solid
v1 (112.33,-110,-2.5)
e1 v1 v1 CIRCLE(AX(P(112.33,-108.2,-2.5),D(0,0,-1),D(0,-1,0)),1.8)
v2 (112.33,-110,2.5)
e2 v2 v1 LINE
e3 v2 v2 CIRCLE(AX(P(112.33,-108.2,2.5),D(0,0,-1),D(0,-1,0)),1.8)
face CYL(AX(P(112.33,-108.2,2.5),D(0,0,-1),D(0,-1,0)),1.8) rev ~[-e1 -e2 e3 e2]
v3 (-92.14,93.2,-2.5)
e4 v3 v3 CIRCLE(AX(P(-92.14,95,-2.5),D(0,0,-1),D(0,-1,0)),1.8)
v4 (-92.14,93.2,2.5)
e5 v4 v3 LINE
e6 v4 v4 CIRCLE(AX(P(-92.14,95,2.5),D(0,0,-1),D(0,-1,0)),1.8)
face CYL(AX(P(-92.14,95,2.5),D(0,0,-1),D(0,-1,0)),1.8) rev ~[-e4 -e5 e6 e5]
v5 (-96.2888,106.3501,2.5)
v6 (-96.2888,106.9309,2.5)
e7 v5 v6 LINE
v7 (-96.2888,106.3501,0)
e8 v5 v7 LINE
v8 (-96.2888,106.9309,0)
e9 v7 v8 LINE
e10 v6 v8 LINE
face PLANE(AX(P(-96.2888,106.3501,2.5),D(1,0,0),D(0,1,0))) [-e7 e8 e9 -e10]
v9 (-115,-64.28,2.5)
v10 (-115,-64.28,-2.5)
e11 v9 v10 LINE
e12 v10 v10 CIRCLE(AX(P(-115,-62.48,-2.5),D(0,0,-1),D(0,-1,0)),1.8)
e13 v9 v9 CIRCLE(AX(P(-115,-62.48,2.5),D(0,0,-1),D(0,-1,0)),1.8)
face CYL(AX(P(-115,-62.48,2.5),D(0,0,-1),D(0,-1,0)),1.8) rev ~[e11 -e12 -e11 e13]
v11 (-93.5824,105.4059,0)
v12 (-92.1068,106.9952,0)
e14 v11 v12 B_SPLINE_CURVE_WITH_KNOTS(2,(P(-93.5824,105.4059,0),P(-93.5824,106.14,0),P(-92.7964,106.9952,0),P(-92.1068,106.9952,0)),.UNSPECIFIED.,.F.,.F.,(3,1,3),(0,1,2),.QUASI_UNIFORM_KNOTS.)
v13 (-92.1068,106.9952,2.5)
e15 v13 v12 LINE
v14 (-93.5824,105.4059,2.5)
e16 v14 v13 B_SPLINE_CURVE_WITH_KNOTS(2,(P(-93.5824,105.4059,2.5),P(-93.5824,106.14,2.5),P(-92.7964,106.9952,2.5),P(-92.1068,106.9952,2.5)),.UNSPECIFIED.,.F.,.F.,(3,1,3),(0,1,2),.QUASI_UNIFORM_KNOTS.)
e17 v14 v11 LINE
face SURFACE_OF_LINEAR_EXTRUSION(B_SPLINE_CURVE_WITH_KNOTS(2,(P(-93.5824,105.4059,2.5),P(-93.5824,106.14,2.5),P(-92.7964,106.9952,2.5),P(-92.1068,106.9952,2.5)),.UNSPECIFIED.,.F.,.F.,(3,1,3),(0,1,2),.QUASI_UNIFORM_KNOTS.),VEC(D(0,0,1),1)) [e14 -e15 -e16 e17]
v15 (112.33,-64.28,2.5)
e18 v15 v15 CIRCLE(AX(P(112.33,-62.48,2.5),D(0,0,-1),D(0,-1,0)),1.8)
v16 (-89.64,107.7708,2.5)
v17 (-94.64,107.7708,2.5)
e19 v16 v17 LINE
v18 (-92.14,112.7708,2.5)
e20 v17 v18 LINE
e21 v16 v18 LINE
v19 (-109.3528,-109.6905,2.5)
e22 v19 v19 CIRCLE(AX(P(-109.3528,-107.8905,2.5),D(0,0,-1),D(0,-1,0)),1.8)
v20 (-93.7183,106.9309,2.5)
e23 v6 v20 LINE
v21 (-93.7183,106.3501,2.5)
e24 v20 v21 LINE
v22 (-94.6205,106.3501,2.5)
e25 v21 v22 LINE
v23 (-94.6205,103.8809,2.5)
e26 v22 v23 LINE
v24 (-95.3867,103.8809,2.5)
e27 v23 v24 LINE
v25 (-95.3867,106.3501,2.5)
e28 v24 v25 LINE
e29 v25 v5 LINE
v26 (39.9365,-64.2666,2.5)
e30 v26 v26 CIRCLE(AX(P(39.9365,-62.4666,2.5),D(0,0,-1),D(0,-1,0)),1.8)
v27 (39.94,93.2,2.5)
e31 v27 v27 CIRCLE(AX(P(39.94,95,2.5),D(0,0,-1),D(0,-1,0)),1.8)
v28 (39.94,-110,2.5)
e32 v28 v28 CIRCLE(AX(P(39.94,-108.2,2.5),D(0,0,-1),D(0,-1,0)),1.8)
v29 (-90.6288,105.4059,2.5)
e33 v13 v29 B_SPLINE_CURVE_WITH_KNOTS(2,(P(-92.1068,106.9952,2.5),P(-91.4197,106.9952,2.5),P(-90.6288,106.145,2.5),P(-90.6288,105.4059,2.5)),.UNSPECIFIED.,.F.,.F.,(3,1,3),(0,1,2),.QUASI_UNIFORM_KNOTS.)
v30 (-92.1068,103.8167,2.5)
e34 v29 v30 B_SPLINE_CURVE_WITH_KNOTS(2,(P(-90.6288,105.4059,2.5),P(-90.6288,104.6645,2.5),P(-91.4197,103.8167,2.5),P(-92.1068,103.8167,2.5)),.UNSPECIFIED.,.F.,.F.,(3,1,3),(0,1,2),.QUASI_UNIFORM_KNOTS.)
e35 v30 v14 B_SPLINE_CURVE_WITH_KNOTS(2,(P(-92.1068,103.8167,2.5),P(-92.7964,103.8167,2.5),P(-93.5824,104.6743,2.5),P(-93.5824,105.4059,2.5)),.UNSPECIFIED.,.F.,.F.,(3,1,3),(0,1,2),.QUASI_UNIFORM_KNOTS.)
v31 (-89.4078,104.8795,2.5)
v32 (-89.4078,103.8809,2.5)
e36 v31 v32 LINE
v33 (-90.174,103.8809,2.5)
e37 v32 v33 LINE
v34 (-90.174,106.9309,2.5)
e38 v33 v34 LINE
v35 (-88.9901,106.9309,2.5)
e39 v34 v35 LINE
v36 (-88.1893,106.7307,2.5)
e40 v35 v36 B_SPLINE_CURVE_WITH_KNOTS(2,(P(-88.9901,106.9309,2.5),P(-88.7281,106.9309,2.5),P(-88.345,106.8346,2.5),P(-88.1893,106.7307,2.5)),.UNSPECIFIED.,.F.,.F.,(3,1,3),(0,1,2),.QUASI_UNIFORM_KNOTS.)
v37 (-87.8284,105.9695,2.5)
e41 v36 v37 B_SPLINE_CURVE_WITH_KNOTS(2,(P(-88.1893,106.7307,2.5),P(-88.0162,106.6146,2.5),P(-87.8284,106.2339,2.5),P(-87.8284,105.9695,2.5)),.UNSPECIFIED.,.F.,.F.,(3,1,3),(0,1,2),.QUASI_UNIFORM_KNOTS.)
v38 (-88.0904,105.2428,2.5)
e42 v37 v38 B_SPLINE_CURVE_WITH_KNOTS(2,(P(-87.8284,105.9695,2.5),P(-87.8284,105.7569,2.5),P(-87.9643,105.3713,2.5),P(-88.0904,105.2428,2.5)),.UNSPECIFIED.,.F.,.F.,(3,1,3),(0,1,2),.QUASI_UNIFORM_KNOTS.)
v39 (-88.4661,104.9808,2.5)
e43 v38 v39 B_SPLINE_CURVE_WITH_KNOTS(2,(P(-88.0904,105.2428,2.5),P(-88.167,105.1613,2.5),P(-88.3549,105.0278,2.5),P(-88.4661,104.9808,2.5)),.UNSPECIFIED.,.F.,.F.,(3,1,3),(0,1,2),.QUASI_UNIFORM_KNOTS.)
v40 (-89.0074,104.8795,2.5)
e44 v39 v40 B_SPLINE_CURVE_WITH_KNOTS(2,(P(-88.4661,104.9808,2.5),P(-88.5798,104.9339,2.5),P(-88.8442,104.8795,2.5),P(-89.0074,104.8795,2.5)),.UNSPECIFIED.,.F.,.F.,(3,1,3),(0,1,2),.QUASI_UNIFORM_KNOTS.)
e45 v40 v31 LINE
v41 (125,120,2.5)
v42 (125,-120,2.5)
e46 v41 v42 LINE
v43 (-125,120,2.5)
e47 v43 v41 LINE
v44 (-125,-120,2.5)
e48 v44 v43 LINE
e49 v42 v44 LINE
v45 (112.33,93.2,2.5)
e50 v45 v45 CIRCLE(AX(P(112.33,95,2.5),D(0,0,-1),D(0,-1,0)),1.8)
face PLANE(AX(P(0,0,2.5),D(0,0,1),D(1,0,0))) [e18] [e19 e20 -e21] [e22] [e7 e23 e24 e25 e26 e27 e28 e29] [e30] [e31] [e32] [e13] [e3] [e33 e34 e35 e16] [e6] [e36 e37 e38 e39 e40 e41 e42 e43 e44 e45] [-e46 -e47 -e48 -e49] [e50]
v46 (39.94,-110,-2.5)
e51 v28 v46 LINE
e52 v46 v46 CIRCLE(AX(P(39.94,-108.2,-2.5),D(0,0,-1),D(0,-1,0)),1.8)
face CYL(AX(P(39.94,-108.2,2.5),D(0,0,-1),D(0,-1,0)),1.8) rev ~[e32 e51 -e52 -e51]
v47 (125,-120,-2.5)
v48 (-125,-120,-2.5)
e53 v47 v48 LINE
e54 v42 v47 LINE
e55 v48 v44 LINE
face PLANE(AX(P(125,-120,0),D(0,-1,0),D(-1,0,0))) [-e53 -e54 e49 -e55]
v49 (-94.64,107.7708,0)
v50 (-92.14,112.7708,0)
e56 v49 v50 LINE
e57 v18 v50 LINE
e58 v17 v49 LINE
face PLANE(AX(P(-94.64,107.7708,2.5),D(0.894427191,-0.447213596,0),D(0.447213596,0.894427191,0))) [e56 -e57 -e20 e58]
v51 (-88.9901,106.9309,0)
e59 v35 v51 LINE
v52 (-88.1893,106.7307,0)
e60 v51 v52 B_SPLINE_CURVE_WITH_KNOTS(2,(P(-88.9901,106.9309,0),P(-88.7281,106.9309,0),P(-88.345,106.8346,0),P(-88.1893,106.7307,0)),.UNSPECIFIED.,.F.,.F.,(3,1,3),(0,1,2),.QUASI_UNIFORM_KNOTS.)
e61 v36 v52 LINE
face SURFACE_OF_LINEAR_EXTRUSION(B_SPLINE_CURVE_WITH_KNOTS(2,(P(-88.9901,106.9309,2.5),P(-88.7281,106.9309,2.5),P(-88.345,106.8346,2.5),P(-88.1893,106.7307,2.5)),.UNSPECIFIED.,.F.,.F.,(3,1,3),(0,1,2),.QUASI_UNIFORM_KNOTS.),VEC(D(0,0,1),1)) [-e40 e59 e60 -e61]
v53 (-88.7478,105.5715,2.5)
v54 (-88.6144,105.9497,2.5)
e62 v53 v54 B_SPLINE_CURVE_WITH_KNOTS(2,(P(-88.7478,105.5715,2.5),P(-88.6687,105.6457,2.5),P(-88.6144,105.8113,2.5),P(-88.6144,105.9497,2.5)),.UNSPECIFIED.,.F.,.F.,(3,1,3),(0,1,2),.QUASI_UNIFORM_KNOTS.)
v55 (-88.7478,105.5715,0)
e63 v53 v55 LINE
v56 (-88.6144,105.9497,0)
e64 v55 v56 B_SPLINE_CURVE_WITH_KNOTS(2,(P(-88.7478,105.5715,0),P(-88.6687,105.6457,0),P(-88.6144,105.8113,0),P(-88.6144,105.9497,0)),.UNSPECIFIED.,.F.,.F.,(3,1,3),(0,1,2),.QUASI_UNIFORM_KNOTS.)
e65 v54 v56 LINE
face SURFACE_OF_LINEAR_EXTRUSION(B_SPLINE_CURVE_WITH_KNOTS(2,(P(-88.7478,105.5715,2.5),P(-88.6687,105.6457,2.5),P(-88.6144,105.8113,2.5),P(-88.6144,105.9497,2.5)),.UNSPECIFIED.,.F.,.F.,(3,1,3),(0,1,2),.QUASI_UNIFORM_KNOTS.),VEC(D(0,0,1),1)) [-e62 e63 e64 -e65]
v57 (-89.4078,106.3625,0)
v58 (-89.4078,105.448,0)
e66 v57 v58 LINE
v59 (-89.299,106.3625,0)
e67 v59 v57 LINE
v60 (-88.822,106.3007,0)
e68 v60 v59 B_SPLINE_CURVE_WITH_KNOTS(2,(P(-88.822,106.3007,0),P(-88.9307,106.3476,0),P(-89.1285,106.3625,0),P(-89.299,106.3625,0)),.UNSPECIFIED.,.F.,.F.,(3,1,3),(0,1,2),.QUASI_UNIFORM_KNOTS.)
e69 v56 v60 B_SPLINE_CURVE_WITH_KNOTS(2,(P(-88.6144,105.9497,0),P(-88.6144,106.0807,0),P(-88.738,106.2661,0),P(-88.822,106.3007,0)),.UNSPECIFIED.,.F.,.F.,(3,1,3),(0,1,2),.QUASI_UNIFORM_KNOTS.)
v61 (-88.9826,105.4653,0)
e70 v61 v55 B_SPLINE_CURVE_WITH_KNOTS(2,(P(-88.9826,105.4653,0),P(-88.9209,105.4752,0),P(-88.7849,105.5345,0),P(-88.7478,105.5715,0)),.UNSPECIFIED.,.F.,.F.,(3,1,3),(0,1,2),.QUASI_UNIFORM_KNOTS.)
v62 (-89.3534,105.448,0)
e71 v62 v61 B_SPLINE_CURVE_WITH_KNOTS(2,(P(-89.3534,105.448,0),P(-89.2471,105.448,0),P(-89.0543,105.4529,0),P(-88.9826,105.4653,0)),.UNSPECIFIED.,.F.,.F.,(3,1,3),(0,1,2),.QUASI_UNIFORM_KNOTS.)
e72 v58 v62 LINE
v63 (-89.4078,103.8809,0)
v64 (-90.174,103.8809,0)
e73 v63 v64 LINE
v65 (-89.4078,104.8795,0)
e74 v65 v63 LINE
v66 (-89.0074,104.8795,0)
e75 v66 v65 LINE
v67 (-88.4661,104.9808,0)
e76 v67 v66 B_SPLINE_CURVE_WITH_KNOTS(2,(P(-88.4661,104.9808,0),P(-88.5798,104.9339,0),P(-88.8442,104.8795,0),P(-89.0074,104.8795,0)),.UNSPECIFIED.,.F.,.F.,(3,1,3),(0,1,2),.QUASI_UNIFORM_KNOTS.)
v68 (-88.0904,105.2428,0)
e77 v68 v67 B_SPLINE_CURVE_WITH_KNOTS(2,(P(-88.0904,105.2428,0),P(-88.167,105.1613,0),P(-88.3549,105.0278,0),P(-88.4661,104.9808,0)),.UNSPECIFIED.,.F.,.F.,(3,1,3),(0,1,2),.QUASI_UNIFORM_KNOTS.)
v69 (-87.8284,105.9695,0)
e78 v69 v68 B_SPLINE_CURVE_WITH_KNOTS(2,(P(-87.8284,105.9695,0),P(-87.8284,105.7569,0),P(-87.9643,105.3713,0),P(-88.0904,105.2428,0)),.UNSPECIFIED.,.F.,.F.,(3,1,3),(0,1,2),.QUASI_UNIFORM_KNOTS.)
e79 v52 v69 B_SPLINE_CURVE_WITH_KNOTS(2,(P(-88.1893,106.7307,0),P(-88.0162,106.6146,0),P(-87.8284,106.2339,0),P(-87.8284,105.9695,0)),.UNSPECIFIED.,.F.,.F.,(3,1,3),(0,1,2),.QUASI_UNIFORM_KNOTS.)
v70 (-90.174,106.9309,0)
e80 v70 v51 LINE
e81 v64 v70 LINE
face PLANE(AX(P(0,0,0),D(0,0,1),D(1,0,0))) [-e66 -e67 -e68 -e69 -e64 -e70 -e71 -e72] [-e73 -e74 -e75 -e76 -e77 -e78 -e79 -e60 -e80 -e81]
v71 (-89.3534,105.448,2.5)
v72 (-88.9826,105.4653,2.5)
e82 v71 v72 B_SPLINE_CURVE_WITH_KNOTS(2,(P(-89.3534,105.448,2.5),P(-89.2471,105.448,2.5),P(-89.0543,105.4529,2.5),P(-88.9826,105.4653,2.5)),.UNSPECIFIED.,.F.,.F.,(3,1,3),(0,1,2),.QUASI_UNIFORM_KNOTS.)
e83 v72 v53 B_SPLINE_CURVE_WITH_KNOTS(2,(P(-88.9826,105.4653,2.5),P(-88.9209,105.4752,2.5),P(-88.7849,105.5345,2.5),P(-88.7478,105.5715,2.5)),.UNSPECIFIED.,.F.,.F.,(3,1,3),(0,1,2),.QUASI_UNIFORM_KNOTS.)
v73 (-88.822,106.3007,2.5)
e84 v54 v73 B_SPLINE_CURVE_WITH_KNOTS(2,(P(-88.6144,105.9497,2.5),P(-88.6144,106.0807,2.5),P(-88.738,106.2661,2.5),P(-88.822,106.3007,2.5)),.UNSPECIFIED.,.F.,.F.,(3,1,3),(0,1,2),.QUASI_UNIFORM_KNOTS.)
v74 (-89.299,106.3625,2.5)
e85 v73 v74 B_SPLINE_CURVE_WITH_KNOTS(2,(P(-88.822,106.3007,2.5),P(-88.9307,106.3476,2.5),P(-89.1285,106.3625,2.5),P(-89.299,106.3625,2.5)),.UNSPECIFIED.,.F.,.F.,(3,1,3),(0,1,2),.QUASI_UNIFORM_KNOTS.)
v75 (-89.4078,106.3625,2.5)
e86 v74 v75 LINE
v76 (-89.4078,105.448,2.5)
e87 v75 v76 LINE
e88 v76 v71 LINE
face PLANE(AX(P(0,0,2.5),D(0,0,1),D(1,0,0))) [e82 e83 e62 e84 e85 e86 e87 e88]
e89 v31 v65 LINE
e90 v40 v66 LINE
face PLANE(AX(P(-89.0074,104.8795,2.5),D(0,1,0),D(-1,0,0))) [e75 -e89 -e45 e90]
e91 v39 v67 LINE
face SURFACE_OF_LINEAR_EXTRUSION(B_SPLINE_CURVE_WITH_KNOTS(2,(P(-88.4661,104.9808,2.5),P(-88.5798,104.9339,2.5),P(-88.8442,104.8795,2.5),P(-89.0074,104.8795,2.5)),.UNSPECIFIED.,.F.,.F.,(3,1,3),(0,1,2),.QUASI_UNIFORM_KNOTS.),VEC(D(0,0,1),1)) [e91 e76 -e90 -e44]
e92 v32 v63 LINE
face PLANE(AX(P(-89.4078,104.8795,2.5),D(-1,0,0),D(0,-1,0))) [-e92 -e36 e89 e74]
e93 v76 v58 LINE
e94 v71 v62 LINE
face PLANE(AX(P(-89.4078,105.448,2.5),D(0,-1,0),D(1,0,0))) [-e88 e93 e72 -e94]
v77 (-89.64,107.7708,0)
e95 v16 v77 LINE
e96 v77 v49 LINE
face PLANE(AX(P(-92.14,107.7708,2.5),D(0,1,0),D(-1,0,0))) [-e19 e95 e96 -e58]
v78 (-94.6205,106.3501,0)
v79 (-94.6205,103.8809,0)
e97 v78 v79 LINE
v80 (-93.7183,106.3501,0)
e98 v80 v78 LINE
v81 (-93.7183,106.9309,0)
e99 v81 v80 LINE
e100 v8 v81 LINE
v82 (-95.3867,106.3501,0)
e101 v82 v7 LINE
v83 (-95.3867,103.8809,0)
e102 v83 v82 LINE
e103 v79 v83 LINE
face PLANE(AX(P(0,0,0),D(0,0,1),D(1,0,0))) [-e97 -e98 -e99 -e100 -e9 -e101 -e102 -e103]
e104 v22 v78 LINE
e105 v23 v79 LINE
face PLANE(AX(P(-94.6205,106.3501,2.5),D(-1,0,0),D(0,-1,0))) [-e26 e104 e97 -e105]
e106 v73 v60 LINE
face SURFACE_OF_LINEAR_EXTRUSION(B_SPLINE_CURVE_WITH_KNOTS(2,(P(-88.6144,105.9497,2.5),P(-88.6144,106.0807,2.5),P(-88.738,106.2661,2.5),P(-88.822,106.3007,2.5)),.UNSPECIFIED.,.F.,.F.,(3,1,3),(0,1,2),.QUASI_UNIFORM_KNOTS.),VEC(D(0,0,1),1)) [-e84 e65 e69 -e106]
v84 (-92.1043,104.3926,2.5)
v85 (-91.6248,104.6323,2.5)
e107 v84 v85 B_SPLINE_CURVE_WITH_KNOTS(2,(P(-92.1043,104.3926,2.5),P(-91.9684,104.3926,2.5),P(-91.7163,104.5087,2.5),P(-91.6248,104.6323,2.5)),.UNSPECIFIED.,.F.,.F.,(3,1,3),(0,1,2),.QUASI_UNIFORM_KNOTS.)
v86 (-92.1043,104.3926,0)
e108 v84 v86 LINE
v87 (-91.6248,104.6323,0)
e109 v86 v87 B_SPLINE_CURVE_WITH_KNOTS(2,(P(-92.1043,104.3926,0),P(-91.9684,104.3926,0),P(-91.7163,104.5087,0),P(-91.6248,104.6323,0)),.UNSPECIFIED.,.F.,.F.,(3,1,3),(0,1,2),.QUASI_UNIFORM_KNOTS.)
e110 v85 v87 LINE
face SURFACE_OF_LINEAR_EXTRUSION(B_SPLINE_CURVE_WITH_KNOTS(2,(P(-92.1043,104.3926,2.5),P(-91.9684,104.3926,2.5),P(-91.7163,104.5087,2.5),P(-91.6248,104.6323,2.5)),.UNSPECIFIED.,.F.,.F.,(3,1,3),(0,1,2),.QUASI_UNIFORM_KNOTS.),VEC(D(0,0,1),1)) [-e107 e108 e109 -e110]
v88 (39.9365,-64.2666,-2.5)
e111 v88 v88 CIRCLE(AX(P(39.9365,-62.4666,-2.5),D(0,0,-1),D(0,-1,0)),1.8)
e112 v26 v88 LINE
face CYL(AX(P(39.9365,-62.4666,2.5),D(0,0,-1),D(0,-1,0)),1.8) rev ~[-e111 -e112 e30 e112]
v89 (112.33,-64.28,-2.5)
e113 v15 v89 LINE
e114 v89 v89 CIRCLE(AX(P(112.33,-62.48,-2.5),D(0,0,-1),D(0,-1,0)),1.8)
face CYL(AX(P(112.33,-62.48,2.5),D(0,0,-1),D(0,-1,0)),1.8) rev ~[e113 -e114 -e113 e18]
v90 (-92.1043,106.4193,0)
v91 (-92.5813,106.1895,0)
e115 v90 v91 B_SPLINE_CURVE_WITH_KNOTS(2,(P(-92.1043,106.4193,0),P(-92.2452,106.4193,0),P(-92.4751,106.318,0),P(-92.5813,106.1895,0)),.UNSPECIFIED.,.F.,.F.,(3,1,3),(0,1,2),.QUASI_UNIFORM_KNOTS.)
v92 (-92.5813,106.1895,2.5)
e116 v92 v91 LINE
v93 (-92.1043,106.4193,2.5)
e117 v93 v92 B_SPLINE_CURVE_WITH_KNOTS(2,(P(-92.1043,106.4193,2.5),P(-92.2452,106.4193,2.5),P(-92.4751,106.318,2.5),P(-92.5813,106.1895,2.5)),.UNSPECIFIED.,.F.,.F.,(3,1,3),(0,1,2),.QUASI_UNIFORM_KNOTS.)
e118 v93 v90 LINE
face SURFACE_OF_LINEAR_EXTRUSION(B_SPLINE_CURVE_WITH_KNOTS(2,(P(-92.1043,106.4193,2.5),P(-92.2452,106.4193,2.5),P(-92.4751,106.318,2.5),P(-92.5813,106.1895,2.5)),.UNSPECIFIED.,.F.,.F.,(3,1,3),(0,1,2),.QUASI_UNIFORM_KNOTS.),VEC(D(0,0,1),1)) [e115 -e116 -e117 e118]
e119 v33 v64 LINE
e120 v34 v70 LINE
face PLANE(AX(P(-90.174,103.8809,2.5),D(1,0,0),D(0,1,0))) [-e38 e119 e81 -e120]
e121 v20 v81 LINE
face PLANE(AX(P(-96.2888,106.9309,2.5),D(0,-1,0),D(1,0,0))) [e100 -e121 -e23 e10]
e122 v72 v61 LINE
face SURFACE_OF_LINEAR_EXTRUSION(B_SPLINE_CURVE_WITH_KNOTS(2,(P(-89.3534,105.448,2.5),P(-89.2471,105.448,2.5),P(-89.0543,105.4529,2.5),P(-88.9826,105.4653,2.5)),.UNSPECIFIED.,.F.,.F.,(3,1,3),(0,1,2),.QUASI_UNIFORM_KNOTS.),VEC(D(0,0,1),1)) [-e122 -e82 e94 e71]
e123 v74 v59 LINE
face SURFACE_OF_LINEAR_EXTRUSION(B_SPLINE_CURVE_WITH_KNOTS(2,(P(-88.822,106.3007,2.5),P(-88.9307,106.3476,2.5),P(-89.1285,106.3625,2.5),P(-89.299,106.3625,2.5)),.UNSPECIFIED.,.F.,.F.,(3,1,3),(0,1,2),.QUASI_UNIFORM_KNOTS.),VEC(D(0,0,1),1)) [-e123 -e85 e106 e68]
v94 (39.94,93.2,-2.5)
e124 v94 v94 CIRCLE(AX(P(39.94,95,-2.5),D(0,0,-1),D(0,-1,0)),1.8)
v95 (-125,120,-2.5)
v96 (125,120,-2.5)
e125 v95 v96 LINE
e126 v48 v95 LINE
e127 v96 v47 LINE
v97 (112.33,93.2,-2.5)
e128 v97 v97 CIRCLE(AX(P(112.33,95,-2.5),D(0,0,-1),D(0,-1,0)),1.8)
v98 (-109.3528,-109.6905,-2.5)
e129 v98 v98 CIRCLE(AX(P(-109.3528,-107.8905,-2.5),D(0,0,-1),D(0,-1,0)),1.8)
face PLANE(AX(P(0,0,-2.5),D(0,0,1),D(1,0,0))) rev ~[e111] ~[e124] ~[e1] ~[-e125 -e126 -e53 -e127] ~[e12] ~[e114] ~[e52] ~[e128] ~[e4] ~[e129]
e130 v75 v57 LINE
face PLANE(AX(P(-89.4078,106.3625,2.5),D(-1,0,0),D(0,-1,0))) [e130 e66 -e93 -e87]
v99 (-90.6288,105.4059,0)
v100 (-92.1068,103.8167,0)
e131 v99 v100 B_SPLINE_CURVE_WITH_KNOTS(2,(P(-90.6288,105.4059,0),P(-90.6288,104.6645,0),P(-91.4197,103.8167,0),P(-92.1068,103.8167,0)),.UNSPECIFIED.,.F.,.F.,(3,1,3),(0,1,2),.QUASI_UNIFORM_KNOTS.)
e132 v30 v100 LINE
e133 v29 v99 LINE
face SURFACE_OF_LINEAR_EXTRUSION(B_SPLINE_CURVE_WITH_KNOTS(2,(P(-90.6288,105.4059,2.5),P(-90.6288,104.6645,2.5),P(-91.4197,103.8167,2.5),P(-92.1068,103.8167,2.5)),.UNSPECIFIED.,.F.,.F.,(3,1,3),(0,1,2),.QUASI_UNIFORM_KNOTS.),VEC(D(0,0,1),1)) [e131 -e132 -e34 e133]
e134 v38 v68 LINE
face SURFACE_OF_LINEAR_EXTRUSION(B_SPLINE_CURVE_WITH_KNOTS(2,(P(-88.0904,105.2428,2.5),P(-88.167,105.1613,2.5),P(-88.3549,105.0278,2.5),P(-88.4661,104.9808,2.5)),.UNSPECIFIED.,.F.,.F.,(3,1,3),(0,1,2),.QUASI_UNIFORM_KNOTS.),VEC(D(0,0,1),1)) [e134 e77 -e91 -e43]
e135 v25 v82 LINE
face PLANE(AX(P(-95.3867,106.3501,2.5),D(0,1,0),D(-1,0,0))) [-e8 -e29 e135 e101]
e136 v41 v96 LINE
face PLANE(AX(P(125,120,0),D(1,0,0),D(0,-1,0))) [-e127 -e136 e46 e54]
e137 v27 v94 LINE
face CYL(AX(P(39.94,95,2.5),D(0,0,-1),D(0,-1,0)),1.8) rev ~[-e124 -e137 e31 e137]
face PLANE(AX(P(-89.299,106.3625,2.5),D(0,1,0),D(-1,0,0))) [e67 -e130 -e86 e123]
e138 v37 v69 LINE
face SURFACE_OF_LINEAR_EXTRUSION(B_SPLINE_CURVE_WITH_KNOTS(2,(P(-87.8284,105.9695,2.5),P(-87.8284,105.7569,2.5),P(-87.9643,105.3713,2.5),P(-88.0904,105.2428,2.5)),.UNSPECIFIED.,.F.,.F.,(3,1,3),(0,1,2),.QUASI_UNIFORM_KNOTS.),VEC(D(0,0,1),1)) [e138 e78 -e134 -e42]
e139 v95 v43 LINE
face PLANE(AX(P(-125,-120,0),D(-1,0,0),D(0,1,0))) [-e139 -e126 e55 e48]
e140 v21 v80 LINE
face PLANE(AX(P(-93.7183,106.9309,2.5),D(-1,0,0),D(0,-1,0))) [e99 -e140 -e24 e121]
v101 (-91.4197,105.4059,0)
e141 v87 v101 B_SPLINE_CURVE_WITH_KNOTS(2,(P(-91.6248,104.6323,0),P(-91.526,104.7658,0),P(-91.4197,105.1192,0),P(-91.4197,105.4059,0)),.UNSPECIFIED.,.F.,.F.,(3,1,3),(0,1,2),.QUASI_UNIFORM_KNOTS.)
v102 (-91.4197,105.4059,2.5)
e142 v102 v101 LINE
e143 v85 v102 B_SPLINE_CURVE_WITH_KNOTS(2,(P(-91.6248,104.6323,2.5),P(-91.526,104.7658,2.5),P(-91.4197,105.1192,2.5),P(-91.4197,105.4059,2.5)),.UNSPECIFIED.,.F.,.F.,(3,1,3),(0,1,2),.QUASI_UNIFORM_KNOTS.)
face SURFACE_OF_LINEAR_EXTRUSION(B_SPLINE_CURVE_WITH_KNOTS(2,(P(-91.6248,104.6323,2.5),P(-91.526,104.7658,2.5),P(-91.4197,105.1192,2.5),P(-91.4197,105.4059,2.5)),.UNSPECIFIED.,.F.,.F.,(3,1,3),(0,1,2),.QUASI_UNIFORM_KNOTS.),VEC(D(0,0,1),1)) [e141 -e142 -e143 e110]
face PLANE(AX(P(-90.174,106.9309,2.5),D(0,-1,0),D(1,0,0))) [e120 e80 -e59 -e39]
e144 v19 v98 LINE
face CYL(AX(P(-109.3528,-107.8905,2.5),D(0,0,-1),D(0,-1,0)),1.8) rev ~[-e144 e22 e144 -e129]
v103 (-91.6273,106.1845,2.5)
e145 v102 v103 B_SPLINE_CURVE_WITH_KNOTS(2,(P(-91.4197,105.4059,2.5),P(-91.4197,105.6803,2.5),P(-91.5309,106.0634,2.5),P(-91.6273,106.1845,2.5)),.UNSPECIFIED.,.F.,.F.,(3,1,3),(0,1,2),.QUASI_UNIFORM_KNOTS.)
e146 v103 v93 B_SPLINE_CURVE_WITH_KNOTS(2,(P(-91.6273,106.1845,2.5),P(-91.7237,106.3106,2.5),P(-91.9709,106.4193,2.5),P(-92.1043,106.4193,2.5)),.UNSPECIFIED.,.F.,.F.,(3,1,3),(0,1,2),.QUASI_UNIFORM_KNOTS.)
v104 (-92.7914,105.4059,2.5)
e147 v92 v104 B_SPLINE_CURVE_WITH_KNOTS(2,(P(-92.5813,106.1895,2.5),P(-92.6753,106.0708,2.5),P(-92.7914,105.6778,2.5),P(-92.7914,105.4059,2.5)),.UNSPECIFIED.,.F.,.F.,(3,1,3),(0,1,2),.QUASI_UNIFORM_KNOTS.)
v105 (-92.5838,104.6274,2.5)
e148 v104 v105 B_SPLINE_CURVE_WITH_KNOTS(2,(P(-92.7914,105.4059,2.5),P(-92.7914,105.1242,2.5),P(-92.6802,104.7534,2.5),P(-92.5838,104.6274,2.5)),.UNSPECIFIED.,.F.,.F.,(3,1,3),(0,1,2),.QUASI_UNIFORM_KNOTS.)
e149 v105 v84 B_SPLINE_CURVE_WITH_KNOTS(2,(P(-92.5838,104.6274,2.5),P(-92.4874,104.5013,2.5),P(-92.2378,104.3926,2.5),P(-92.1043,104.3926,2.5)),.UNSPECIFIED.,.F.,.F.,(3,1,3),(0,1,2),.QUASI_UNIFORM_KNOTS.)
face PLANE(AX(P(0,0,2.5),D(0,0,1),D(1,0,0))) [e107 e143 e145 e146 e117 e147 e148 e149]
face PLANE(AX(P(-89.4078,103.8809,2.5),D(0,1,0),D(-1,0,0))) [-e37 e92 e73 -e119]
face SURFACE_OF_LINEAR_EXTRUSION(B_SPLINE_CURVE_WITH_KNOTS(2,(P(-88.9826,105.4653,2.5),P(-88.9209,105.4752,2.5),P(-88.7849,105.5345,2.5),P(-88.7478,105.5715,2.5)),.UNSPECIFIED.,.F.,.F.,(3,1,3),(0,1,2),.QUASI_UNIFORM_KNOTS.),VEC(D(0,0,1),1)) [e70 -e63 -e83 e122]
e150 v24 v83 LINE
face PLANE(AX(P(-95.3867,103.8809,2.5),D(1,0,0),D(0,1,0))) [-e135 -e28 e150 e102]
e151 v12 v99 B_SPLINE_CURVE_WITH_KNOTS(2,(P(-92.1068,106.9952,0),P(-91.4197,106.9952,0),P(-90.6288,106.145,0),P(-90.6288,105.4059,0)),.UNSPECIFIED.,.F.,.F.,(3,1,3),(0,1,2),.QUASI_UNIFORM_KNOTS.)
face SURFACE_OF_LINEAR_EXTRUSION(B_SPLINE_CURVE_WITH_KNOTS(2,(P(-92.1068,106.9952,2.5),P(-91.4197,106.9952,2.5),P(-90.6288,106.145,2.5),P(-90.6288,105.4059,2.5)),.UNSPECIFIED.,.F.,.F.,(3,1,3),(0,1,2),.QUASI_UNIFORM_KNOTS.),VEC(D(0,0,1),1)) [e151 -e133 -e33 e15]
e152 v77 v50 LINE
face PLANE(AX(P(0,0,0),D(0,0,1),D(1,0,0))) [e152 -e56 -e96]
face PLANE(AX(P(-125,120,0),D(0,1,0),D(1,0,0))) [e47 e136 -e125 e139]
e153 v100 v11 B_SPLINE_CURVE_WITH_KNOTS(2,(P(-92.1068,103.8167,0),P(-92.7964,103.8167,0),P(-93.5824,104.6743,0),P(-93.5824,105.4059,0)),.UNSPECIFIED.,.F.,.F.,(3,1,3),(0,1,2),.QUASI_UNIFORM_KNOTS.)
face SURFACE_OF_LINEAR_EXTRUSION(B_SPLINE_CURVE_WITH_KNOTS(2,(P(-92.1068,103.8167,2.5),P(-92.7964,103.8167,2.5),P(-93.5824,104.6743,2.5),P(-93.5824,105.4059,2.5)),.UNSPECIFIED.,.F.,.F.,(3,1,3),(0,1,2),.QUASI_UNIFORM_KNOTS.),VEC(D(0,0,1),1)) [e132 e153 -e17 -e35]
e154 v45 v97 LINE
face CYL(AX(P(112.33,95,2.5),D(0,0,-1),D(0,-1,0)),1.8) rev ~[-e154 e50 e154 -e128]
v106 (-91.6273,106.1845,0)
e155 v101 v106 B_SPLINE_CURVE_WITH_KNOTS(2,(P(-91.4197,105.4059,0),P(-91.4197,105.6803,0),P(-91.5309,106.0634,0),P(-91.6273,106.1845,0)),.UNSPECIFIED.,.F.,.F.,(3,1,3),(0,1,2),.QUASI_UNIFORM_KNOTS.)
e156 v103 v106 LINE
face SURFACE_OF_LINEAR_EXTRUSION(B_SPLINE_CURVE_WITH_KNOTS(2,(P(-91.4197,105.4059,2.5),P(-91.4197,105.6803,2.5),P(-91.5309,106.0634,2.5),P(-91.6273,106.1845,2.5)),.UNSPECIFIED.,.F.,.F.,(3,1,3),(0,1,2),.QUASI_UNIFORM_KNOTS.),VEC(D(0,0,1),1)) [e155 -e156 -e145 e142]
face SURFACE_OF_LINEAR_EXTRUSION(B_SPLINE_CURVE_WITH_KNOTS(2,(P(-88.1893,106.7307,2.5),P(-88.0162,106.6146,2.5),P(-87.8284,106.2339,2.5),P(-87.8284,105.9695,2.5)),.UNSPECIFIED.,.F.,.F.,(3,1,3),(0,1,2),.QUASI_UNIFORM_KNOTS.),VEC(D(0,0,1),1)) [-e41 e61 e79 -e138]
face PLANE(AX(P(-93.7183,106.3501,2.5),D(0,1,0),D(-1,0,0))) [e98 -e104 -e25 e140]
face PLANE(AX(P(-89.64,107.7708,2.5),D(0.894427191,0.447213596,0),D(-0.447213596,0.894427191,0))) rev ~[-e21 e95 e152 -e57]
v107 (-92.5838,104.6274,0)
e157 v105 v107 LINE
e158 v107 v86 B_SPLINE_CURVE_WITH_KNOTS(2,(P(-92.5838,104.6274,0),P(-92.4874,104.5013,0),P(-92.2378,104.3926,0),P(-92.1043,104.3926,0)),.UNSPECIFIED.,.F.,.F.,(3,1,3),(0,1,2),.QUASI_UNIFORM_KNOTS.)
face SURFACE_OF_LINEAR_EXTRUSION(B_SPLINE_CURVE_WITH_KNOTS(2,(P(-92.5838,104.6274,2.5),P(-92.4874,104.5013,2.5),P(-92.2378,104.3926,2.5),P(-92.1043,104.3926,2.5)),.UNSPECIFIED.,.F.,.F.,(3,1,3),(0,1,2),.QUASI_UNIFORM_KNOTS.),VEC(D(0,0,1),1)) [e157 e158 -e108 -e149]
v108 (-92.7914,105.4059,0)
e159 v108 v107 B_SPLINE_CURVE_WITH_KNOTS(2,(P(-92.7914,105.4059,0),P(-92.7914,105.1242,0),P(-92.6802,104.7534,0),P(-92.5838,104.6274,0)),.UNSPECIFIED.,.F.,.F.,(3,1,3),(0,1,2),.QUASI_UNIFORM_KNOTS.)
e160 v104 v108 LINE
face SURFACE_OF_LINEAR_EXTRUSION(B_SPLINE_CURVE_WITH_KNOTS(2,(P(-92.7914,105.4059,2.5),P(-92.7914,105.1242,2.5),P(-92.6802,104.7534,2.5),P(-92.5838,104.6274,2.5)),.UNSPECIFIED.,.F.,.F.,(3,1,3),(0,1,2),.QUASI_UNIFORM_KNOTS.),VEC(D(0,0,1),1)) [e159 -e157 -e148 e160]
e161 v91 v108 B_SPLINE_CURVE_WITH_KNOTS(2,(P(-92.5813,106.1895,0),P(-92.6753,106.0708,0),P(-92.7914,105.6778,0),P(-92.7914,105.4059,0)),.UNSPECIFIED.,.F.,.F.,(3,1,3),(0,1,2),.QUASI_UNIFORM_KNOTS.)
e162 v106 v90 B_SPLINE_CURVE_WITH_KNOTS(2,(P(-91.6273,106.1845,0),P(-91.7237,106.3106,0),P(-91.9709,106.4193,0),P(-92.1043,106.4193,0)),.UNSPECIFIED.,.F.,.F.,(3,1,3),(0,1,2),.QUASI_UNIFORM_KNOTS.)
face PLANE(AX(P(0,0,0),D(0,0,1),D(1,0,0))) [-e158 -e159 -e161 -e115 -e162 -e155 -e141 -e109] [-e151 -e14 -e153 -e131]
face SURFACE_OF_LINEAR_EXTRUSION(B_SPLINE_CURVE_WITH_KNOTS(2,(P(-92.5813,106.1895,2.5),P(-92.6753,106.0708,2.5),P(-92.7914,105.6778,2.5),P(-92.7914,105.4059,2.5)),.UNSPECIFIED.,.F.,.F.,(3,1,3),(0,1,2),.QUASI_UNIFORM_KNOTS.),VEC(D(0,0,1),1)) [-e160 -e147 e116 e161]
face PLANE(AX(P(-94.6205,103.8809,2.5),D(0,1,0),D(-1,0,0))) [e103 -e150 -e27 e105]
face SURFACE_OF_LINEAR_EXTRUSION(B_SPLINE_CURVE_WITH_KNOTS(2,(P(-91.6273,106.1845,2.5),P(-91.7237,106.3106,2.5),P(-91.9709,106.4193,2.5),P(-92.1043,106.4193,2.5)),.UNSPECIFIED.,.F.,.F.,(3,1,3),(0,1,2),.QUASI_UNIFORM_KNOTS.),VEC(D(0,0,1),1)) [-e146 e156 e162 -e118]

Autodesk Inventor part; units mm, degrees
ref_plane "YZ Plane" through (0, 0, 0) normal (1, 0, 0) x (0, 1, 0)
ref_plane "XZ Plane" through (0, 0, 0) normal (0, 1, 0) x (-1, 0, 0)
ref_plane "XY Plane" through (0, 0, 0) normal (0, 0, 1) x (1, 0, 0)
sketch "Sketch1" plane through (0, 0, 0) normal (0, 0, 1) x (1, 0, 0)
  line L0 (-125, 120) -> (125, 120)
  line L1 (125, 120) -> (125, -120)
  line L2 (125, -120) -> (-125, -120)
  line L3 (-125, -120) -> (-125, 120)
  point P0 (0, 0)
  dimension "d0" = 250
  dimension "d1" = 240
  dimension "d2" = 125
  dimension "d3" = 120
extrude "Extrusion1" add sketch "Sketch1" along normal mid plane 5
sketch "Sketch3" plane through (0, 0, 2.5) normal (0, 0, 1) x (1, 0, 0)
  line L0 (125, 120) -> (-125, 120) projected
  line L1 (-115, 95) -> (-115, -108.2)
  line L2 (-125, -120) -> (125, -120) projected
  line L3 (-92.14, 95) -> (-92.14, -120)
  line L4 (39.94, 95) -> (39.94, -108.2)
  line L5 (112.33, 95) -> (112.33, -108.2)
  line L6 (125, -120) -> (125, 120)
  line L7 (112.33, -62.48) -> (-115, -62.48)
  line L8 (-125, 120) -> (-125, -120)
  line L9 (112.33, -108.2) -> (-115, -108.2)
  line L10 (-115, 95) -> (112.33, 95)
  point P0 (0, 0)
  point P1 (-109.3528, -107.8905)
  point P2 (39.9365, -62.4666)
  dimension "d6" = 10
  dimension "d7" = 22.86
  dimension "d8" = 132.08
  dimension "d9" = 72.39
  dimension "d11" = 25
  dimension "d12" = 157.48
  dimension "d13" = 45.72
hole "Hole1" at (-92.14, 95, 2.5) at (39.94, 95, 2.5) at (112.33, 95, 2.5) at (112.33, -62.48, 2.5) at (112.33, -108.2, 2.5) at (39.94, -108.2, 2.5) at (-109.3528, -107.8905, 2.5) at (-115, -62.48, 2.5) at (39.9365, -62.4666, 2.5) direction (0, 0, -1) diameter 3.6 end through all
sketch "Sketch4" plane through (0, 0, 2.5) normal (0, 0, 1) x (1, 0, 0)
  line L0 (-92.14, 112.7708) -> (-92.14, 107.7708)
  line L1 (-92.14, 107.7708) -> (-89.64, 107.7708)
  line L2 (-89.64, 107.7708) -> (-92.14, 112.7708)
  circle A0 centre (-92.14, 95) radius 1.8 projected
  line L3 (-92.14, 107.7708) -> (-94.64, 107.7708)
  line L4 (-94.64, 107.7708) -> (-92.14, 112.7708)
  line L5 (-96.2888, 106.9952) -> (-87.7345, 106.9952) construction
  line L6 (-87.7345, 106.9952) -> (-87.7345, 103.8167) construction
  line L7 (-87.7345, 103.8167) -> (-96.2888, 103.8167) construction
  line L8 (-96.2888, 103.8167) -> (-96.2888, 106.9952) construction
  line L9 (-95.3867, 103.8809) -> (-95.3867, 106.3501)
  line L10 (-95.3867, 106.3501) -> (-96.2888, 106.3501)
  line L11 (-96.2888, 106.3501) -> (-96.2888, 106.9309)
  line L12 (-96.2888, 106.9309) -> (-93.7183, 106.9309)
  line L13 (-93.7183, 106.9309) -> (-93.7183, 106.3501)
  line L14 (-93.7183, 106.3501) -> (-94.6205, 106.3501)
  line L15 (-94.6205, 106.3501) -> (-94.6205, 103.8809)
  line L16 (-94.6205, 103.8809) -> (-95.3867, 103.8809)
  spline S0 degree 2 poles (-90.6288, 105.4059) (-90.6288, 104.6645) (-91.4197, 103.8167) (-92.1068, 103.8167) knots 0 0 0 1 2 2 2
  spline S1 degree 2 poles (-92.1068, 103.8167) (-92.7964, 103.8167) (-93.5824, 104.6743) (-93.5824, 105.4059) knots 0 0 0 1 2 2 2
  spline S2 degree 2 poles (-93.5824, 105.4059) (-93.5824, 106.14) (-92.7964, 106.9952) (-92.1068, 106.9952) knots 0 0 0 1 2 2 2
  spline S3 degree 2 poles (-92.1068, 106.9952) (-91.4197, 106.9952) (-90.6288, 106.145) (-90.6288, 105.4059) knots 0 0 0 1 2 2 2
  spline S4 degree 2 poles (-91.4197, 105.4059) (-91.4197, 105.6803) (-91.5309, 106.0634) (-91.6273, 106.1845) knots 0 0 0 1 2 2 2
  spline S5 degree 2 poles (-91.6273, 106.1845) (-91.7237, 106.3106) (-91.9709, 106.4193) (-92.1043, 106.4193) knots 0 0 0 1 2 2 2
  spline S6 degree 2 poles (-92.1043, 106.4193) (-92.2452, 106.4193) (-92.4751, 106.318) (-92.5813, 106.1895) knots 0 0 0 1 2 2 2
  spline S7 degree 2 poles (-92.5813, 106.1895) (-92.6753, 106.0708) (-92.7914, 105.6778) (-92.7914, 105.4059) knots 0 0 0 1 2 2 2
  spline S8 degree 2 poles (-92.7914, 105.4059) (-92.7914, 105.1242) (-92.6802, 104.7534) (-92.5838, 104.6274) knots 0 0 0 1 2 2 2
  spline S9 degree 2 poles (-92.5838, 104.6274) (-92.4874, 104.5013) (-92.2378, 104.3926) (-92.1043, 104.3926) knots 0 0 0 1 2 2 2
  spline S10 degree 2 poles (-92.1043, 104.3926) (-91.9684, 104.3926) (-91.7163, 104.5087) (-91.6248, 104.6323) knots 0 0 0 1 2 2 2
  spline S11 degree 2 poles (-91.6248, 104.6323) (-91.526, 104.7658) (-91.4197, 105.1192) (-91.4197, 105.4059) knots 0 0 0 1 2 2 2
  spline S12 degree 2 poles (-87.8284, 105.9695) (-87.8284, 105.7569) (-87.9643, 105.3713) (-88.0904, 105.2428) knots 0 0 0 1 2 2 2
  spline S13 degree 2 poles (-88.0904, 105.2428) (-88.167, 105.1613) (-88.3549, 105.0278) (-88.4661, 104.9808) knots 0 0 0 1 2 2 2
  spline S14 degree 2 poles (-88.4661, 104.9808) (-88.5798, 104.9339) (-88.8442, 104.8795) (-89.0074, 104.8795) knots 0 0 0 1 2 2 2
  line L17 (-89.0074, 104.8795) -> (-89.4078, 104.8795)
  line L18 (-89.4078, 104.8795) -> (-89.4078, 103.8809)
  line L19 (-89.4078, 103.8809) -> (-90.174, 103.8809)
  line L20 (-90.174, 103.8809) -> (-90.174, 106.9309)
  line L21 (-90.174, 106.9309) -> (-88.9901, 106.9309)
  spline S15 degree 2 poles (-88.9901, 106.9309) (-88.7281, 106.9309) (-88.345, 106.8346) (-88.1893, 106.7307) knots 0 0 0 1 2 2 2
  spline S16 degree 2 poles (-88.1893, 106.7307) (-88.0162, 106.6146) (-87.8284, 106.2339) (-87.8284, 105.9695) knots 0 0 0 1 2 2 2
  spline S17 degree 2 poles (-88.6144, 105.9497) (-88.6144, 106.0807) (-88.738, 106.2661) (-88.822, 106.3007) knots 0 0 0 1 2 2 2
  spline S18 degree 2 poles (-88.822, 106.3007) (-88.9307, 106.3476) (-89.1285, 106.3625) (-89.299, 106.3625) knots 0 0 0 1 2 2 2
  line L22 (-89.299, 106.3625) -> (-89.4078, 106.3625)
  line L23 (-89.4078, 106.3625) -> (-89.4078, 105.448)
  line L24 (-89.4078, 105.448) -> (-89.3534, 105.448)
  spline S19 degree 2 poles (-89.3534, 105.448) (-89.2471, 105.448) (-89.0543, 105.4529) (-88.9826, 105.4653) knots 0 0 0 1 2 2 2
  spline S20 degree 2 poles (-88.9826, 105.4653) (-88.9209, 105.4752) (-88.7849, 105.5345) (-88.7478, 105.5715) knots 0 0 0 1 2 2 2
  spline S21 degree 2 poles (-88.7478, 105.5715) (-88.6687, 105.6457) (-88.6144, 105.8113) (-88.6144, 105.9497) knots 0 0 0 1 2 2 2
  point P0 (0, 0)
  dimension "d21" = 5
extrude "Extrusion2" cut sketch "Sketch4" against normal blind 2.5 contours L2 L1 L0 | L0 L3 L4 | L9 L10 L11 L12 L13 L14 L15 L16 | S0 S1 S2 S3 | S12 S13 S14 L17 L18 L19 L20 L21 S15 S16
equation "\"d2\" = 0.5 * d0"
equation "\"d3\" = 0.5 * d1"
properties part number "MotherboardBase"
